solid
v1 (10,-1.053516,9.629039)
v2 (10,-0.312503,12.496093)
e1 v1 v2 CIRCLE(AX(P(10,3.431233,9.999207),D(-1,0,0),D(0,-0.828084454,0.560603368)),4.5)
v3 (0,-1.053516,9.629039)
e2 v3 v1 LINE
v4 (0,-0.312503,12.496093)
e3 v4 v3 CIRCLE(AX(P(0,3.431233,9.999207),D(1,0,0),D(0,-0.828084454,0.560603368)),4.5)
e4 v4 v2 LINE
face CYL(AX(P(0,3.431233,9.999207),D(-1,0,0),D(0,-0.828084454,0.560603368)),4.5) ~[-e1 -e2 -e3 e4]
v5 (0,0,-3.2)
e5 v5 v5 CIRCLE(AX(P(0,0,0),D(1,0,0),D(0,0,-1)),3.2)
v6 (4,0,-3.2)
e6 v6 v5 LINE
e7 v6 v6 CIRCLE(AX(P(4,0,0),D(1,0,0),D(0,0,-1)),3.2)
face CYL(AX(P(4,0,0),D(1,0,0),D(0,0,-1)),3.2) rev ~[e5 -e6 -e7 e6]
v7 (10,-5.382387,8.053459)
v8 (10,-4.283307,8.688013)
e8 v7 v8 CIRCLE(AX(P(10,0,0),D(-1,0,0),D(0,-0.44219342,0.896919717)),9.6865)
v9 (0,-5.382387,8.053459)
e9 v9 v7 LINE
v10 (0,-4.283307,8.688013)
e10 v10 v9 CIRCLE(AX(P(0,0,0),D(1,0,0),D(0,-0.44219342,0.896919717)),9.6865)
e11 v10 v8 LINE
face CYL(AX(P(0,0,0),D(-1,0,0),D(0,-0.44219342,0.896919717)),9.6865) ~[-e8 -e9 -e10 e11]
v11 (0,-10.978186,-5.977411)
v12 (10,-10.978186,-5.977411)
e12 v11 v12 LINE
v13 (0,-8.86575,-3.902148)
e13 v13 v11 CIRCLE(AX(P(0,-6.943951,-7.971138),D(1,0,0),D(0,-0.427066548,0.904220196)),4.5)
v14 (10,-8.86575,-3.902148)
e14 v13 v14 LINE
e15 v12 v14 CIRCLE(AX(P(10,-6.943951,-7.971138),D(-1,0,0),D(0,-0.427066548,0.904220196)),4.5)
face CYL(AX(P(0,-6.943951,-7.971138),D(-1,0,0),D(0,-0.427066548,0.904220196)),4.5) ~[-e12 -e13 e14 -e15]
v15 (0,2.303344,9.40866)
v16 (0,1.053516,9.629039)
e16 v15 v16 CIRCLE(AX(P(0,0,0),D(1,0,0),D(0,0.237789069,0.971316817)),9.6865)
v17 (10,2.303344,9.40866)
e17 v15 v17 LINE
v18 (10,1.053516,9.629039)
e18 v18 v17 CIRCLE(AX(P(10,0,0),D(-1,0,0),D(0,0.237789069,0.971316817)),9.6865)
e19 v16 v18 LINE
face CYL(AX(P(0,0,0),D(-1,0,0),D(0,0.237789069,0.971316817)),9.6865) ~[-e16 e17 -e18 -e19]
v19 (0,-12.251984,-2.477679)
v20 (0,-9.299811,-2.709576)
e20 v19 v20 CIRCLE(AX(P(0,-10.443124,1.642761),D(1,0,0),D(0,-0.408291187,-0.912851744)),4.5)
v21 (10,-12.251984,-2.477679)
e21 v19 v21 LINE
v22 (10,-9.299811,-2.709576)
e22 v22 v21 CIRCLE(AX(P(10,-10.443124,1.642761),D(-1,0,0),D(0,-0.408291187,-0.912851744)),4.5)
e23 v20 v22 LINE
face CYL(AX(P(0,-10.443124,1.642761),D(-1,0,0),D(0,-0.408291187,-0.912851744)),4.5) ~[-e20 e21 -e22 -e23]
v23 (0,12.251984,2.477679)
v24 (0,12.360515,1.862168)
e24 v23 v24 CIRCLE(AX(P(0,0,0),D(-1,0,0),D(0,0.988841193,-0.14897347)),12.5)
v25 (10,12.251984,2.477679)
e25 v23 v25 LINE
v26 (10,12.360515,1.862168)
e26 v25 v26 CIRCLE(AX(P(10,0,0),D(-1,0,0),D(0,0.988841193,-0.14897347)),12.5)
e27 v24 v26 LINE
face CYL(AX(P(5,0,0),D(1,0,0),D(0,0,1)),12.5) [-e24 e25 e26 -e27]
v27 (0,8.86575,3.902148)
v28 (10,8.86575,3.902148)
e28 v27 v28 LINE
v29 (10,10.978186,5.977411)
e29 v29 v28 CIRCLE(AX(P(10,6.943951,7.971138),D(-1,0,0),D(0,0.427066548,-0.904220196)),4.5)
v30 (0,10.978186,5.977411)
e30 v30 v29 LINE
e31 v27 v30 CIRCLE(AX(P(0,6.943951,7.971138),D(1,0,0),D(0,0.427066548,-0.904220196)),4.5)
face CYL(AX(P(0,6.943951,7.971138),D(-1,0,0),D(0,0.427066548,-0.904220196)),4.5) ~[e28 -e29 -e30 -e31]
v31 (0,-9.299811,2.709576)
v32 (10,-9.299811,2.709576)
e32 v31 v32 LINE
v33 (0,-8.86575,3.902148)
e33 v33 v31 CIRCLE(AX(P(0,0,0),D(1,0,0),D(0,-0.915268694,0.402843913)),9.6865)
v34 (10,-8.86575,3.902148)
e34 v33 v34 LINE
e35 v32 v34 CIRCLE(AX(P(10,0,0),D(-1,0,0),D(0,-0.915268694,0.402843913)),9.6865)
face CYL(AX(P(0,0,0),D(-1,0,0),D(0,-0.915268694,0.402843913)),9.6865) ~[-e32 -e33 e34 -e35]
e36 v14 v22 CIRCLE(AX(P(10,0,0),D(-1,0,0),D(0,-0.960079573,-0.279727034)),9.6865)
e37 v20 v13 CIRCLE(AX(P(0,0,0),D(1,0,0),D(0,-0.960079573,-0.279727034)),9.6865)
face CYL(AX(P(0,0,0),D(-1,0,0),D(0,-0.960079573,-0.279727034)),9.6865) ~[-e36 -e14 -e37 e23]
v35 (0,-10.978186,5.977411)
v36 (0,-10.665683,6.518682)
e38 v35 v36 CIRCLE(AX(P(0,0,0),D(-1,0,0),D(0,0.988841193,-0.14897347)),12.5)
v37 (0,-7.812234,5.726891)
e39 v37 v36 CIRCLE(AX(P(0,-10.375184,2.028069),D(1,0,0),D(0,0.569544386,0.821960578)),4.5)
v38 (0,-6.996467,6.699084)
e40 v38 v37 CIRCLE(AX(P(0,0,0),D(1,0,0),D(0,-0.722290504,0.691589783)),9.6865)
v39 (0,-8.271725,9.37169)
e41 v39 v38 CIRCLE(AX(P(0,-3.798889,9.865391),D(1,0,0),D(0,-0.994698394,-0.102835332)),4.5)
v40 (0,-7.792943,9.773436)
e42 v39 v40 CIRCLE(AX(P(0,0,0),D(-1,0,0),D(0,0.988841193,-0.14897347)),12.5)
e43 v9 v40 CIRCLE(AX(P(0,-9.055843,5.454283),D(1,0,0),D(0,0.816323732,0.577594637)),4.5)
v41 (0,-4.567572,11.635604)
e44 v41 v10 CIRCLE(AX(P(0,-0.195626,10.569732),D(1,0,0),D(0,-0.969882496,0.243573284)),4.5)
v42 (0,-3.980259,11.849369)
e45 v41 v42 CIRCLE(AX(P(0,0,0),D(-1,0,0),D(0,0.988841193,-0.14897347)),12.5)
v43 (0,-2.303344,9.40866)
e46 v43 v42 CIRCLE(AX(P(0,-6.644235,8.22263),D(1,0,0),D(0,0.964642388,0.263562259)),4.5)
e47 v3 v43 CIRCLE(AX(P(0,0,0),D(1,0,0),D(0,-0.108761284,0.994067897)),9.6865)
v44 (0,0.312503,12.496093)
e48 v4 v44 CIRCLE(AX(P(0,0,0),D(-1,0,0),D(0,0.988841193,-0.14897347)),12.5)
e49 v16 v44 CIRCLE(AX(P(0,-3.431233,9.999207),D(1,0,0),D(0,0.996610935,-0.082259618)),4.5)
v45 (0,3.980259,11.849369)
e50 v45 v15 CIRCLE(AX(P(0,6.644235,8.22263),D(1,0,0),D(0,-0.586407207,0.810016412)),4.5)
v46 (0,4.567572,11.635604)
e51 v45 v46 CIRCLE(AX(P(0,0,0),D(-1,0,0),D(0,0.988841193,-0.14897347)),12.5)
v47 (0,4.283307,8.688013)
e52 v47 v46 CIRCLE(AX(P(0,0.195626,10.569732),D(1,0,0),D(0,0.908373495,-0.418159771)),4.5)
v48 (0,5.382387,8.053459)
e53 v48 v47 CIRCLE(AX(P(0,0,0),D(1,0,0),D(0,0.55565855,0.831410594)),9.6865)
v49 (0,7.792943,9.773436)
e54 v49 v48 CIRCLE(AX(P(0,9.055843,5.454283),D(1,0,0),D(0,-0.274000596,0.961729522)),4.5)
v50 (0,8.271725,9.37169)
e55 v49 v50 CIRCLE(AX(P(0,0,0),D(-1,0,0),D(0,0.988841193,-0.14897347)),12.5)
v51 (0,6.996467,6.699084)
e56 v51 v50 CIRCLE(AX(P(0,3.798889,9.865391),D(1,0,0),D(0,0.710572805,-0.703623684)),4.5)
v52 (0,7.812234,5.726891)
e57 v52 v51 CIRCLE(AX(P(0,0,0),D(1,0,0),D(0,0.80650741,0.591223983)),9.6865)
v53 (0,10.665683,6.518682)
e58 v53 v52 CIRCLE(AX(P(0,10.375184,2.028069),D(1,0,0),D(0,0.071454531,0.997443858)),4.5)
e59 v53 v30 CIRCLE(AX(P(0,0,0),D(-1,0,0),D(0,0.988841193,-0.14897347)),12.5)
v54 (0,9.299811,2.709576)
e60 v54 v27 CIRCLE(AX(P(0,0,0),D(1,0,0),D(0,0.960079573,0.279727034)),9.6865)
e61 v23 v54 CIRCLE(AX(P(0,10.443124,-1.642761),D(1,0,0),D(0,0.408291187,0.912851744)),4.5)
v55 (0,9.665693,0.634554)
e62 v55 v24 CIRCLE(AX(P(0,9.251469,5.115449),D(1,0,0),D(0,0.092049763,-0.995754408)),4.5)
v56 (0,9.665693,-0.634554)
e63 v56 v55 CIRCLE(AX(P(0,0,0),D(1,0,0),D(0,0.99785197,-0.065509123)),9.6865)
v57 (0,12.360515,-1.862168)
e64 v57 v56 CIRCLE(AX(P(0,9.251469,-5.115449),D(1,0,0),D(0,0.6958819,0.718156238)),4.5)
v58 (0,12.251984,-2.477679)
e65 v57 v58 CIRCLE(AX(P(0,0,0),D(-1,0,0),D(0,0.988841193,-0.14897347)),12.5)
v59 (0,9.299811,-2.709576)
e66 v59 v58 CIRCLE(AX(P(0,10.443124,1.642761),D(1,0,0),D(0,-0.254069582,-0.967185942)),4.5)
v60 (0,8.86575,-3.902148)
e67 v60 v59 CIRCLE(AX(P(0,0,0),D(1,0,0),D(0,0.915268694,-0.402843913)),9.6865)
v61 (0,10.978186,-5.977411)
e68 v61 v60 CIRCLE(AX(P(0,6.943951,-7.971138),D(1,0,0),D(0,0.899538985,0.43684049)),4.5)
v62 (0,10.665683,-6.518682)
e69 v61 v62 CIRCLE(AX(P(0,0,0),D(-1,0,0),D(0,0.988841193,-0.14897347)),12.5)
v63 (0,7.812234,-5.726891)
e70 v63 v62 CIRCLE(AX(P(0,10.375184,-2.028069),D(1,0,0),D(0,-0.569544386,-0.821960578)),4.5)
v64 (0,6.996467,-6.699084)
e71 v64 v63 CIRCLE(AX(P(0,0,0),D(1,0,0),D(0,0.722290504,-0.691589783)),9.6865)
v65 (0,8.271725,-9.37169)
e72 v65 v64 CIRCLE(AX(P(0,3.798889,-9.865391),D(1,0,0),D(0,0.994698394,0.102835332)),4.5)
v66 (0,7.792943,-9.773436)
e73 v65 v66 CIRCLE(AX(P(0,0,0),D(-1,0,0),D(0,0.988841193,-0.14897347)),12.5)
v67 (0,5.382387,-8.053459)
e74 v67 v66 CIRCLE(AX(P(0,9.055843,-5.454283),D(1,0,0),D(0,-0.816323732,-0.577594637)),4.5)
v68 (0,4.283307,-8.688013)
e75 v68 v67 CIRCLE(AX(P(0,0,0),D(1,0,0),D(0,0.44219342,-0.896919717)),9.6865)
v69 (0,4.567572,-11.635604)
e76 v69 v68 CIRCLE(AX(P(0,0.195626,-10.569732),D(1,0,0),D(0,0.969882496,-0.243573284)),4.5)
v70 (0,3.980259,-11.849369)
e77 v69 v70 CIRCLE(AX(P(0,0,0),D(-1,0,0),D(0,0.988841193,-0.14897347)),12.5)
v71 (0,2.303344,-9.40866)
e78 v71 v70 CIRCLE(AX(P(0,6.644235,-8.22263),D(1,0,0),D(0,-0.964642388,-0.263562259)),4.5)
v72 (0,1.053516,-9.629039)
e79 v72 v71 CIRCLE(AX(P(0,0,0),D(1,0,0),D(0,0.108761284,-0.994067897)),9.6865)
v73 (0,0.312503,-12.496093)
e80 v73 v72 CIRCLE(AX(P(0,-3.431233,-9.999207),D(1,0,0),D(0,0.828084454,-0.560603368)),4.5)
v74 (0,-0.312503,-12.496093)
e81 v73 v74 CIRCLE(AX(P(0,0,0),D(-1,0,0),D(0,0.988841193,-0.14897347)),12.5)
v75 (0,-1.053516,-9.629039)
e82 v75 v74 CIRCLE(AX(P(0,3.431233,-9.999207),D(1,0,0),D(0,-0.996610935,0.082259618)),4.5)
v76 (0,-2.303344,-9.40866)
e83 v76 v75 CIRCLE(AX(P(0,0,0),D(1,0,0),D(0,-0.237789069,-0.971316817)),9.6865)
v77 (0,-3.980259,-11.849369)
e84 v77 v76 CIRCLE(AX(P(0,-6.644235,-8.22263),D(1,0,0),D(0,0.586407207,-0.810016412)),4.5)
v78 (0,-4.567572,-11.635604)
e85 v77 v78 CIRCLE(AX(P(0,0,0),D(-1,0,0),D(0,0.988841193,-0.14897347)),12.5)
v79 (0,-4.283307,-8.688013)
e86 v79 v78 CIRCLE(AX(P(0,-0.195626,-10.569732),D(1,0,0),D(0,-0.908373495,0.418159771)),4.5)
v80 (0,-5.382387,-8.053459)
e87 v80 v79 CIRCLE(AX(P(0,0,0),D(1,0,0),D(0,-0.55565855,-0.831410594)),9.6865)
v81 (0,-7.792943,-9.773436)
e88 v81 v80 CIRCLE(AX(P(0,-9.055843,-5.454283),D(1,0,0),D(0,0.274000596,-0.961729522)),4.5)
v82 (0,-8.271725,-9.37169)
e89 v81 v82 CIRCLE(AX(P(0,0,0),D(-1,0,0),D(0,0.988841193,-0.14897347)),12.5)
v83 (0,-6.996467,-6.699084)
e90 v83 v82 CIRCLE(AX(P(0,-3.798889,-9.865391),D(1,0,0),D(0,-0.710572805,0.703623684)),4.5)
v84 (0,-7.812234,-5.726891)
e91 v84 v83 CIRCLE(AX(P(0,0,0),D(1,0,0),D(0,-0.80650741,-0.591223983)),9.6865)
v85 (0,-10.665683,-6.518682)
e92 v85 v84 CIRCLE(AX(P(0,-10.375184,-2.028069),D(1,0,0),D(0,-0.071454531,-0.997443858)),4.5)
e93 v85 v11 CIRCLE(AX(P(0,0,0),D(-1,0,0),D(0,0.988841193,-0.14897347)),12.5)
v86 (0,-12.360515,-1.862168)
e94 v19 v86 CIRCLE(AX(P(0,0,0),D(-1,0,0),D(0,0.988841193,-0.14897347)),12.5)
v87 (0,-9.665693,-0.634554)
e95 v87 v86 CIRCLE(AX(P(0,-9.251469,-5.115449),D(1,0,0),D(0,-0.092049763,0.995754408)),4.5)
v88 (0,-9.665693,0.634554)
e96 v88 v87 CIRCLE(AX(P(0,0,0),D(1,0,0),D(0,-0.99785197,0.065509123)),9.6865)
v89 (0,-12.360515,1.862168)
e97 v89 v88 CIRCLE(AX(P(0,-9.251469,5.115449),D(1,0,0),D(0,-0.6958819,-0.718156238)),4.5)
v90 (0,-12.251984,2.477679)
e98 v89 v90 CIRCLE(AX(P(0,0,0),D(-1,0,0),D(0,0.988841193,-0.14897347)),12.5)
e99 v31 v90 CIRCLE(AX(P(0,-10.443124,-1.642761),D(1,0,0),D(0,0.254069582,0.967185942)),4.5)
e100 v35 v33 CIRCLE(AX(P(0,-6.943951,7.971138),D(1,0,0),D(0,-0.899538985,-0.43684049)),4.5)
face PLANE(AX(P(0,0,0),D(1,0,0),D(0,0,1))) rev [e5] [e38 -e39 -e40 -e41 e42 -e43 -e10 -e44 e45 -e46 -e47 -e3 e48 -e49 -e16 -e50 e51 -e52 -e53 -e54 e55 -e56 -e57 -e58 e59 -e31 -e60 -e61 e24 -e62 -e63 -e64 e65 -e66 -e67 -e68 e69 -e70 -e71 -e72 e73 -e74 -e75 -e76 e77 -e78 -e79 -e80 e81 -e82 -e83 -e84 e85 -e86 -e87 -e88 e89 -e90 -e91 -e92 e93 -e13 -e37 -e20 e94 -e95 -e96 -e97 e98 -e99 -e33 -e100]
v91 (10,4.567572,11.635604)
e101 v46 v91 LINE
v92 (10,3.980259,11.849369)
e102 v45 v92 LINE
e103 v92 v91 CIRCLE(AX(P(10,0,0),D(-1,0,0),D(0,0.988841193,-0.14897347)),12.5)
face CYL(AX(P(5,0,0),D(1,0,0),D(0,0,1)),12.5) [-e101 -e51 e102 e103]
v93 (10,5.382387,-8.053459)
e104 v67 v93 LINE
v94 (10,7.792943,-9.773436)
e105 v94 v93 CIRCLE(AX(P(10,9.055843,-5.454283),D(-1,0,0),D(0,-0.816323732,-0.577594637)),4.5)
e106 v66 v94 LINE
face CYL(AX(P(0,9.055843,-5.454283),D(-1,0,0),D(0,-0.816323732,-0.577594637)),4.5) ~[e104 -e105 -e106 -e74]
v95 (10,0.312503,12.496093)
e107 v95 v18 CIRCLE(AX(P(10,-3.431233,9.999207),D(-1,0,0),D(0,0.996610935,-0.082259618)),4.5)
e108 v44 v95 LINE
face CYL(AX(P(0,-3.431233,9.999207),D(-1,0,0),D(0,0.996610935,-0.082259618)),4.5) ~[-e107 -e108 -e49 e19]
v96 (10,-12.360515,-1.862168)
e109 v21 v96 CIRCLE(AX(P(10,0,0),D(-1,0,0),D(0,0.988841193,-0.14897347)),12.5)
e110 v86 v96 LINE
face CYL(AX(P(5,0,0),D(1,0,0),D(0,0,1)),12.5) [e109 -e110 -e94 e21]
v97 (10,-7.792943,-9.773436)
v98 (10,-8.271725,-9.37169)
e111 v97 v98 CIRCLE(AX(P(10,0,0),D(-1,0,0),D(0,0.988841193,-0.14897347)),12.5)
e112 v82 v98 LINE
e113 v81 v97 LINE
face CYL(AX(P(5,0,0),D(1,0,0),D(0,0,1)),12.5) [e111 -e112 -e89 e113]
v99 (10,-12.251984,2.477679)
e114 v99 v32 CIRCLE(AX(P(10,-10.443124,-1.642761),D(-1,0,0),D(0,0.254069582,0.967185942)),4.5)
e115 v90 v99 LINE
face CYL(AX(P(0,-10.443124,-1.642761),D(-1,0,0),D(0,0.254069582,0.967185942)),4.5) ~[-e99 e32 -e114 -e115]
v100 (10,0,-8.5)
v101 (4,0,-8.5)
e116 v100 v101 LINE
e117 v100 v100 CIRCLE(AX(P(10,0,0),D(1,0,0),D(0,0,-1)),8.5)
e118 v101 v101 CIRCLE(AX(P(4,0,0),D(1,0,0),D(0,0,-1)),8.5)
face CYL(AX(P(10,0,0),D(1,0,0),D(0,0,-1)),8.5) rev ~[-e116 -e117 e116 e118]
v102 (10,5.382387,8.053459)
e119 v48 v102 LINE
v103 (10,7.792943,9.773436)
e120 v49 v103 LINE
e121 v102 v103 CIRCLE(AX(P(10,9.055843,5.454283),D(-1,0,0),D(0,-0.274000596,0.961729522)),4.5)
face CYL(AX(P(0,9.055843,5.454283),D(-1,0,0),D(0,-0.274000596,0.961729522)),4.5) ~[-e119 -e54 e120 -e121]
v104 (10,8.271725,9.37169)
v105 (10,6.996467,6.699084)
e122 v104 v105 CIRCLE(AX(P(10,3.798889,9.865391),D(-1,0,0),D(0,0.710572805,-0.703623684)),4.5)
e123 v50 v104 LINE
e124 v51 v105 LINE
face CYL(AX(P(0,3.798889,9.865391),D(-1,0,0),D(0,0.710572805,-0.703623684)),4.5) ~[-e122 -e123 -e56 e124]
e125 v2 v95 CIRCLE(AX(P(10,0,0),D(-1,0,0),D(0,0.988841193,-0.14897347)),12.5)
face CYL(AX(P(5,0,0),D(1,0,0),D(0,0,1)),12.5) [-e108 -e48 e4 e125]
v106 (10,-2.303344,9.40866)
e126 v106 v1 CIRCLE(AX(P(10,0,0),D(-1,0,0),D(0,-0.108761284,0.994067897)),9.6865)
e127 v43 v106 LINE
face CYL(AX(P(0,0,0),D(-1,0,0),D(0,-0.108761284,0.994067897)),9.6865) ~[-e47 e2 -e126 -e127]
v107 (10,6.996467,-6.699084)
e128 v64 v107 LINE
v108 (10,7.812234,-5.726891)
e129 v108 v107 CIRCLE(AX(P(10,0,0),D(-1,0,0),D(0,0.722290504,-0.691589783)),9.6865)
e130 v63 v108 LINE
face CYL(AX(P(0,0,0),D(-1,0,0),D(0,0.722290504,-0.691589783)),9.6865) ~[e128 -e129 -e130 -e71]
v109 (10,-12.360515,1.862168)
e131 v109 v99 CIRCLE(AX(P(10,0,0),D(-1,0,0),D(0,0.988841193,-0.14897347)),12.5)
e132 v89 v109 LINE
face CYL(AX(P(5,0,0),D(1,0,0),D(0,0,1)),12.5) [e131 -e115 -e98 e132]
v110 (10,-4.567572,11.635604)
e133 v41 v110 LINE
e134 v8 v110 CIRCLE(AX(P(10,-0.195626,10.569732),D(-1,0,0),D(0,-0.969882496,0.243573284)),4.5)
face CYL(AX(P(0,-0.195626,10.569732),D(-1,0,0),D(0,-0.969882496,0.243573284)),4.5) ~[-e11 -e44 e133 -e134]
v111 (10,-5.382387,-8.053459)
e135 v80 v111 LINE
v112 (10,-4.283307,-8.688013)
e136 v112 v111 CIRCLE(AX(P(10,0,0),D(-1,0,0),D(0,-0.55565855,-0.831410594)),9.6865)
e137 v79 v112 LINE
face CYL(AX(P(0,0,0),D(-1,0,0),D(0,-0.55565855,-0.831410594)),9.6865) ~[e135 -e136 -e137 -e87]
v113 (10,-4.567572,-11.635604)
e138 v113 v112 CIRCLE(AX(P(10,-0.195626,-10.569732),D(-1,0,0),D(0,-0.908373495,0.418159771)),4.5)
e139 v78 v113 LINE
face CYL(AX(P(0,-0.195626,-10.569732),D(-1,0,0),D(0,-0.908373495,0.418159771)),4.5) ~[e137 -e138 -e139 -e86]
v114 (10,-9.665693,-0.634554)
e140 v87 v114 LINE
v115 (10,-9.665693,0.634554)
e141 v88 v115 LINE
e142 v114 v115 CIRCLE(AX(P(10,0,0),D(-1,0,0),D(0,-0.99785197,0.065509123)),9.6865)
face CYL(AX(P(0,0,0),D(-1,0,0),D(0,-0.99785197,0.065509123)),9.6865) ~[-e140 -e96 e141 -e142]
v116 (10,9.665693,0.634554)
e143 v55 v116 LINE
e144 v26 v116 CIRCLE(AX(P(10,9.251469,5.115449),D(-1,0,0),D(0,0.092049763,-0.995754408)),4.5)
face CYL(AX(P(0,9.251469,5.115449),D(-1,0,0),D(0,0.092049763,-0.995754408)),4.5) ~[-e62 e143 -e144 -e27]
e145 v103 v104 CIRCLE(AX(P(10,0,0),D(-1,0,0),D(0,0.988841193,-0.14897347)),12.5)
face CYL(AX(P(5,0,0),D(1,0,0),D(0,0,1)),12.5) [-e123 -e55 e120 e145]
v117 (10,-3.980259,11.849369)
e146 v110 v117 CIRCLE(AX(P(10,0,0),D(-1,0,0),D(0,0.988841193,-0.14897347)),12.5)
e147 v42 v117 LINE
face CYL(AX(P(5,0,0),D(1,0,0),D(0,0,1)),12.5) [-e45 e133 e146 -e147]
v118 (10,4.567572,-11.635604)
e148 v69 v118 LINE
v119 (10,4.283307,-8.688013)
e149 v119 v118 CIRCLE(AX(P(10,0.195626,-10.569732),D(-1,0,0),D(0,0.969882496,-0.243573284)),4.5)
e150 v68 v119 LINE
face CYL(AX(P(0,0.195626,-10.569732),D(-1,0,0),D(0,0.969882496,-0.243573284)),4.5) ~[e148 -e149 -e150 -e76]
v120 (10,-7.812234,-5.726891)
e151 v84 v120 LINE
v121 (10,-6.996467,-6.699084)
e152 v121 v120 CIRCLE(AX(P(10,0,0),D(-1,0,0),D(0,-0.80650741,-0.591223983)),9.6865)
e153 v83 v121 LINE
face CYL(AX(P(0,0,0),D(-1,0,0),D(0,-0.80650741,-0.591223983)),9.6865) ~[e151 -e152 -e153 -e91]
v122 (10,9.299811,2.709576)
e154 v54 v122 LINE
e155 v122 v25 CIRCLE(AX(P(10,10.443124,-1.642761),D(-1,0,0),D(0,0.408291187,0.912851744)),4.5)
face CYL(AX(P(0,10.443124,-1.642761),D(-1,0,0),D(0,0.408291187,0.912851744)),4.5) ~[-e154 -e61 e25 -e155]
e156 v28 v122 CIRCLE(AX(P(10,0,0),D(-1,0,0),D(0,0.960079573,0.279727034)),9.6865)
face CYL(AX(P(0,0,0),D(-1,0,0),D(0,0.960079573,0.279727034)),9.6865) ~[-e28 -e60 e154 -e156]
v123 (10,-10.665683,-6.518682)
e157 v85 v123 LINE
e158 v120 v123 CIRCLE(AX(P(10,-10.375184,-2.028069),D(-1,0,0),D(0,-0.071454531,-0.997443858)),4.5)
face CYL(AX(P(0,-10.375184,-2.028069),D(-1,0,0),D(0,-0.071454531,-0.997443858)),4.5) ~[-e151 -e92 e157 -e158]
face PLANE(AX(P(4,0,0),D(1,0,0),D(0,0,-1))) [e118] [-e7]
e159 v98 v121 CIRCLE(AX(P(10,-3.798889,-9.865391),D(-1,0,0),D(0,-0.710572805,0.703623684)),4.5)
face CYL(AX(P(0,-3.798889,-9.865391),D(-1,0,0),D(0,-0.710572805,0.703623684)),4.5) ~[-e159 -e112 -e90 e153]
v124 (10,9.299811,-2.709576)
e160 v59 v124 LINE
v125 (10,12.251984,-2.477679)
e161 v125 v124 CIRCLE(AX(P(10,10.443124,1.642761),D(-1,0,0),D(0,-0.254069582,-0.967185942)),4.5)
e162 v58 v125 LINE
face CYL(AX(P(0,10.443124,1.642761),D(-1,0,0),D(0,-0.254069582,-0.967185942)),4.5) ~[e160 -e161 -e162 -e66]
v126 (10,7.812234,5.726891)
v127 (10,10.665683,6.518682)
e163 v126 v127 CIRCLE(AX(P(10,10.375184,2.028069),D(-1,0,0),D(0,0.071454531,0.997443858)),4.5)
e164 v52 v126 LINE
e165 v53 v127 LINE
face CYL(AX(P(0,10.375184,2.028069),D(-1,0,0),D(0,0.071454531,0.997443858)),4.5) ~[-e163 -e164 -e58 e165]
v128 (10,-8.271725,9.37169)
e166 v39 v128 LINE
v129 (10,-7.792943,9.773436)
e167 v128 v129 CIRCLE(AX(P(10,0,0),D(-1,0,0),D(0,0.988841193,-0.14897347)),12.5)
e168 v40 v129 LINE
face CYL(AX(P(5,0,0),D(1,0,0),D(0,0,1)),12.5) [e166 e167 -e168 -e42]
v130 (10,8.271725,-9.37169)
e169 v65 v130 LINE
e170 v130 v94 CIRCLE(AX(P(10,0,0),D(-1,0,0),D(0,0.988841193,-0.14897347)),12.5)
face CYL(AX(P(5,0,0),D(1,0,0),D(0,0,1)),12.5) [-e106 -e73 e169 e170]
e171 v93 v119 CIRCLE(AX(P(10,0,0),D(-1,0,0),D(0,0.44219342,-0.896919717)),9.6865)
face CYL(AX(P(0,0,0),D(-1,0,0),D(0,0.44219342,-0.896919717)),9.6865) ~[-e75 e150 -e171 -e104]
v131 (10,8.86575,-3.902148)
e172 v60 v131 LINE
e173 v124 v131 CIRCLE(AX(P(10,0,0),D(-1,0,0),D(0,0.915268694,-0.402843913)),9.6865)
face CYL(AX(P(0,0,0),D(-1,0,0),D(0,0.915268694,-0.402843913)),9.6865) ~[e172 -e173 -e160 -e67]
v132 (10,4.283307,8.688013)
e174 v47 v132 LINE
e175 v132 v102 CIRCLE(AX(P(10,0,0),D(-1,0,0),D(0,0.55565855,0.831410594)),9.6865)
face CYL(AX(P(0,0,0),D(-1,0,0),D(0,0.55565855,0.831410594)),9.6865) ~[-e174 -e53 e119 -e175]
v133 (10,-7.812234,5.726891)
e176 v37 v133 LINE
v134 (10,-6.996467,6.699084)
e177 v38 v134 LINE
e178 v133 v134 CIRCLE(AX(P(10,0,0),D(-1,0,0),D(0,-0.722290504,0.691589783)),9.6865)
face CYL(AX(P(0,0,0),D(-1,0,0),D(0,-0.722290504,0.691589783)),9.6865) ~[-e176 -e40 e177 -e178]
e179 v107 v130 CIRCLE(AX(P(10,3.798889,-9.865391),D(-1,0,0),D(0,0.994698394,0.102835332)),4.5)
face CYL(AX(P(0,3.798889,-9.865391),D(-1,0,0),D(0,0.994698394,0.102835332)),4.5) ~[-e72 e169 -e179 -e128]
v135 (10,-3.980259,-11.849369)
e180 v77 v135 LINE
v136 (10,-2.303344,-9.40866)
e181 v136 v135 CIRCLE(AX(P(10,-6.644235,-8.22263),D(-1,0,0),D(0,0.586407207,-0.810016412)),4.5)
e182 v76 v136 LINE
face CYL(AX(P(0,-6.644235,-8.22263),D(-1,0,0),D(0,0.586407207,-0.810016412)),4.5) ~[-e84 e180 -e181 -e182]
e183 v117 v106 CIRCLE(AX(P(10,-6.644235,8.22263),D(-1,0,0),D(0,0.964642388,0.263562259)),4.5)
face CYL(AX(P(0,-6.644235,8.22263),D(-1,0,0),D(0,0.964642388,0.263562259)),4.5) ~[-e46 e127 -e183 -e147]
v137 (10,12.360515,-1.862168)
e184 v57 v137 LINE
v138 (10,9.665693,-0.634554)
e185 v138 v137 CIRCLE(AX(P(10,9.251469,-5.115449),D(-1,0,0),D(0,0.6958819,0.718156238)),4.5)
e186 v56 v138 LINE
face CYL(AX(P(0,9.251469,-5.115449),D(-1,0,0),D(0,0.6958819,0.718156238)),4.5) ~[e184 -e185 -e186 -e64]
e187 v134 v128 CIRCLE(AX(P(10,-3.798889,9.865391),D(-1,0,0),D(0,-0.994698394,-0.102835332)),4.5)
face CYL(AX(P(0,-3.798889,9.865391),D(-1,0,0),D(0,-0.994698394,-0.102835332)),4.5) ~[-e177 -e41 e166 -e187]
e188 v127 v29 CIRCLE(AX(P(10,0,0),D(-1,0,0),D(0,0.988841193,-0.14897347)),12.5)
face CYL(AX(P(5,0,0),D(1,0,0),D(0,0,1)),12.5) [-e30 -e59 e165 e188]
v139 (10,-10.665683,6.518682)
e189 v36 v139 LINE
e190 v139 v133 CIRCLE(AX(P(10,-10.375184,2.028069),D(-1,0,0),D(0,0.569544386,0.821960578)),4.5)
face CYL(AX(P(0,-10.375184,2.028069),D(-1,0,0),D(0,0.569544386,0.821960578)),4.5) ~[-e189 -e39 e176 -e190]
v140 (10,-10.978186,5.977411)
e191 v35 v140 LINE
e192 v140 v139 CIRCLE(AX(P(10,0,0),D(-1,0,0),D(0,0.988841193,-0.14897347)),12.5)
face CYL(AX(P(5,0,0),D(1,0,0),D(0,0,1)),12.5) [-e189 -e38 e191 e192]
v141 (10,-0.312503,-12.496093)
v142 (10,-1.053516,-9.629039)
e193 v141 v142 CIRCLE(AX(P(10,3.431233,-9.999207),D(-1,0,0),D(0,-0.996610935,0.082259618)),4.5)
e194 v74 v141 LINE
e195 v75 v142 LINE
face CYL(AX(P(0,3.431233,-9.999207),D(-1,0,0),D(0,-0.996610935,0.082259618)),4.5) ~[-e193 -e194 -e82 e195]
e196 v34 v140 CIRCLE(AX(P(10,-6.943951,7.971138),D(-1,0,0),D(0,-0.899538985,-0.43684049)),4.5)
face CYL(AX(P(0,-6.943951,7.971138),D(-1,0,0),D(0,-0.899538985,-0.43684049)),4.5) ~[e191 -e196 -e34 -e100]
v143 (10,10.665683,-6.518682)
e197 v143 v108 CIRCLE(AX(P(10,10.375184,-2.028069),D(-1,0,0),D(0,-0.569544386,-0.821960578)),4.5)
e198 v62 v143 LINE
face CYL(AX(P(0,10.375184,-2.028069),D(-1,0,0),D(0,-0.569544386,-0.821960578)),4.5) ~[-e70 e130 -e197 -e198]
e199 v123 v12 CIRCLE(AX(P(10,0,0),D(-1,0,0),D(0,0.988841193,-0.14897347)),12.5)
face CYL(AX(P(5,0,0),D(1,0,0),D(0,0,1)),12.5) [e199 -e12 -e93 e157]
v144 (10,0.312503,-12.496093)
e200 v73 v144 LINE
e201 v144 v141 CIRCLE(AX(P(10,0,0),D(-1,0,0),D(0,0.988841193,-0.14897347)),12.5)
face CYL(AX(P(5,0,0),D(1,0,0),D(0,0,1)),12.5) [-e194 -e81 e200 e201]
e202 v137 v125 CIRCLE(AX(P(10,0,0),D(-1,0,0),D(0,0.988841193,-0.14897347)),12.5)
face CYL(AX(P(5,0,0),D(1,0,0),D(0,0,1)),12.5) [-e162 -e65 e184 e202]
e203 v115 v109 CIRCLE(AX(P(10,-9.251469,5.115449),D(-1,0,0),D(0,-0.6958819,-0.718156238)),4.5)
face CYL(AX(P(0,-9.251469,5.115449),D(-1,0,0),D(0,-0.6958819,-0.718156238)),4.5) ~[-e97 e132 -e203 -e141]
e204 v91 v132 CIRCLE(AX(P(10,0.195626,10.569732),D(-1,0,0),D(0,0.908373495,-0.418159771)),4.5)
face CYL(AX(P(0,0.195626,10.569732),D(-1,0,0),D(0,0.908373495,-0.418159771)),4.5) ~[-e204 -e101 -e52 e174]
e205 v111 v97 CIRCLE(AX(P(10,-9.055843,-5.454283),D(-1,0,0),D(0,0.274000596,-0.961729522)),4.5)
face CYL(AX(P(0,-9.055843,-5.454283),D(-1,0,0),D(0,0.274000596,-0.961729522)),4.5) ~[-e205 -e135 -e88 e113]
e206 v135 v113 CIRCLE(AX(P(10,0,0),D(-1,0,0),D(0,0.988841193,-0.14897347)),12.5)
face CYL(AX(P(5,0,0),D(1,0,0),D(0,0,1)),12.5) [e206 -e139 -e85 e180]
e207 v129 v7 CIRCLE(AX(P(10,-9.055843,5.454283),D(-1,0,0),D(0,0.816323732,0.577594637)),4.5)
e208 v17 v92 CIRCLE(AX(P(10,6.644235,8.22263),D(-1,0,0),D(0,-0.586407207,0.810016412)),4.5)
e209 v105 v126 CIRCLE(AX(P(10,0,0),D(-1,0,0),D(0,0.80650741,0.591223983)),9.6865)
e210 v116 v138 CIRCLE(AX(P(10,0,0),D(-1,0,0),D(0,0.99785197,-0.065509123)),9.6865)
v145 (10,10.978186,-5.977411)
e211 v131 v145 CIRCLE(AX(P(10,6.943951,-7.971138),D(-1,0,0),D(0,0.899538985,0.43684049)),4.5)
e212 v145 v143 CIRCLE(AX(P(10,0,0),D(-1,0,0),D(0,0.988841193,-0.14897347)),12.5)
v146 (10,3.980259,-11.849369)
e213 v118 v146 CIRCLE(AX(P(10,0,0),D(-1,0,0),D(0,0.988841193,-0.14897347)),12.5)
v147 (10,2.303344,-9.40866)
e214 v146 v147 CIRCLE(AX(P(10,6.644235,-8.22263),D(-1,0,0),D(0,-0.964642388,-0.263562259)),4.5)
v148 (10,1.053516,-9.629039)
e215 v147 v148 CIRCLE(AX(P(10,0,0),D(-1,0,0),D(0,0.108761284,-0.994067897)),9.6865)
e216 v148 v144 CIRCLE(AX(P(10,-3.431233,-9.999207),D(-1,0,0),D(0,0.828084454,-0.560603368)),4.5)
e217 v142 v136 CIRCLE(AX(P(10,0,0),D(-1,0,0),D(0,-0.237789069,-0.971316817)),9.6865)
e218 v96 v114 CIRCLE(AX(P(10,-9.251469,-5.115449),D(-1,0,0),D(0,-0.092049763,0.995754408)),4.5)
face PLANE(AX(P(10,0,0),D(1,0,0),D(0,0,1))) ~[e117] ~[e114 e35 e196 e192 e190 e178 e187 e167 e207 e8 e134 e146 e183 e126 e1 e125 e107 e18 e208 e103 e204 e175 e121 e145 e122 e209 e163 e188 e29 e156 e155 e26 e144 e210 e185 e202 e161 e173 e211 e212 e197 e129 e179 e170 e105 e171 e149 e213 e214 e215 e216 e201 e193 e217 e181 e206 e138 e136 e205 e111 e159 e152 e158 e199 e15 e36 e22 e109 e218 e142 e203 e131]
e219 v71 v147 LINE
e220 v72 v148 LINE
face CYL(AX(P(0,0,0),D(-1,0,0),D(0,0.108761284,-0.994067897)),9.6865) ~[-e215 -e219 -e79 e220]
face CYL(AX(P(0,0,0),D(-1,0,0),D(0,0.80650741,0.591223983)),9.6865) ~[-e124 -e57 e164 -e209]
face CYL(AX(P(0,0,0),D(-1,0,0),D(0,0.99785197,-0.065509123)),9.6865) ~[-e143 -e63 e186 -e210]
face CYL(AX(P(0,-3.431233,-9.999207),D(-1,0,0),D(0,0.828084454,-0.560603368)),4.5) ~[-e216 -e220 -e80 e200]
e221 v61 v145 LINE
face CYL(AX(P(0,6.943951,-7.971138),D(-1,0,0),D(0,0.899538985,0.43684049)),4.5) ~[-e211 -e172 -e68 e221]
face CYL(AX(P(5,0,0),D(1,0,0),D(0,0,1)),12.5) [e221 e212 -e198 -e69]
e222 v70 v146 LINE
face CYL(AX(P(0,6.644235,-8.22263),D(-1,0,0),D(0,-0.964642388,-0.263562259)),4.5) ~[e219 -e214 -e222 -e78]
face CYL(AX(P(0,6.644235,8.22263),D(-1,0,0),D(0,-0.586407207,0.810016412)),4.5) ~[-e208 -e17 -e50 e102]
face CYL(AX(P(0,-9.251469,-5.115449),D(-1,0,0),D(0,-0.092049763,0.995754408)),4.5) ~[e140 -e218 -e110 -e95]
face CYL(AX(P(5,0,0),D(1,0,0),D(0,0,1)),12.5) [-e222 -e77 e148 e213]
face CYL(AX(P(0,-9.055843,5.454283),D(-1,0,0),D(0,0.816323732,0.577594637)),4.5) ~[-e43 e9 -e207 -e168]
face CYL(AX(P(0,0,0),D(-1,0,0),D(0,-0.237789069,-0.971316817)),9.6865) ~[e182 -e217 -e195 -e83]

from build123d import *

# Parameters (mm, degrees)
BASPROSKE_W        = 10
BASPROSKE_H        = 12.5
TOOTHCUT_DEPTH     = 21.310096012
TEETHCUTS_COUNT    = 18
TEETHCUTS_ANGLE    = 340
BORSKE_R           = 1.5
BORE_DEPTH         = 50.0000508
SKETCH1_R          = 8.5
CUT_EXTRUDE1_DEPTH = 6
SKETCH2_R          = 3.2
CUT_EXTRUDE2_DEPTH = 19.575045867


with BuildPart() as part:
    # BasProSke → Base-Revolve (revolve)
    with BuildSketch(Plane(origin=(0, 0, 0), x_dir=(1, 0, 0), z_dir=(0, 1, 0)), mode=Mode.PRIVATE) as base_revolve_sk:
        with Locations((5, 6.25)):
            Rectangle(BASPROSKE_W, BASPROSKE_H)
    revolve(base_revolve_sk.sketch.rotate(Axis((-10, 0, 0), (1, 0, 0)), 180), axis=Axis((-10, 0, 0), (1, 0, 0)))

    # TooCutSke → ToothCut (cut, through all)
    with BuildSketch(Plane(origin=(0, 0, 0), x_dir=(0, 0, -1), z_dir=(1, 0, 0))):
        with BuildLine():
            ThreePointArc((0.634554124, 9.665693111), (0, 9.6865), (-0.634554124, 9.665693111))
            ThreePointArc((-0.634554124, 9.665693111), (-1.026818848, 11.131124412), (-1.883745888, 12.38293772))
            ThreePointArc((-1.883745888, 12.38293772), (0, 12.5254), (1.883745888, 12.38293772))
            ThreePointArc((1.883745888, 12.38293772), (1.026818848, 11.131124412), (0.634554124, 9.665693111))
        make_face()
    toothcut = extrude(amount=TOOTHCUT_DEPTH, mode=Mode.SUBTRACT)

    # TeethCuts: ToothCut ×18 about axis
    teethcuts_axis = Axis((-10, 0, 0), (1, 0, 0))
    for i in range(1, TEETHCUTS_COUNT):
        add(toothcut.rotate(teethcuts_axis, i * TEETHCUTS_ANGLE / (TEETHCUTS_COUNT - 1)), mode=Mode.SUBTRACT)

    # BorSke → Bore (cut, symmetric)
    with BuildSketch(Plane(origin=(0, 0, 0), x_dir=(0, 0, -1), z_dir=(1, 0, 0))):
        with Locations(Location((0, 0, 0), (0, 0, 180))):
            Circle(BORSKE_R)
    extrude(amount=BORE_DEPTH, both=True, mode=Mode.SUBTRACT)

    # Sketch1 → Cut-Extrude1 (cut)
    with BuildSketch(Plane(origin=(10, 0, 0), x_dir=(0, 0, -1), z_dir=(1, 0, 0))):
        Circle(SKETCH1_R)
    extrude(amount=-CUT_EXTRUDE1_DEPTH, mode=Mode.SUBTRACT)

    # Sketch2 → Cut-Extrude2 (cut, through all)
    with BuildSketch(Plane(origin=(4, 0, 0), x_dir=(0, 0, -1), z_dir=(1, 0, 0))):
        Circle(SKETCH2_R)
    extrude(amount=-CUT_EXTRUDE2_DEPTH, mode=Mode.SUBTRACT)


solid = part.part
